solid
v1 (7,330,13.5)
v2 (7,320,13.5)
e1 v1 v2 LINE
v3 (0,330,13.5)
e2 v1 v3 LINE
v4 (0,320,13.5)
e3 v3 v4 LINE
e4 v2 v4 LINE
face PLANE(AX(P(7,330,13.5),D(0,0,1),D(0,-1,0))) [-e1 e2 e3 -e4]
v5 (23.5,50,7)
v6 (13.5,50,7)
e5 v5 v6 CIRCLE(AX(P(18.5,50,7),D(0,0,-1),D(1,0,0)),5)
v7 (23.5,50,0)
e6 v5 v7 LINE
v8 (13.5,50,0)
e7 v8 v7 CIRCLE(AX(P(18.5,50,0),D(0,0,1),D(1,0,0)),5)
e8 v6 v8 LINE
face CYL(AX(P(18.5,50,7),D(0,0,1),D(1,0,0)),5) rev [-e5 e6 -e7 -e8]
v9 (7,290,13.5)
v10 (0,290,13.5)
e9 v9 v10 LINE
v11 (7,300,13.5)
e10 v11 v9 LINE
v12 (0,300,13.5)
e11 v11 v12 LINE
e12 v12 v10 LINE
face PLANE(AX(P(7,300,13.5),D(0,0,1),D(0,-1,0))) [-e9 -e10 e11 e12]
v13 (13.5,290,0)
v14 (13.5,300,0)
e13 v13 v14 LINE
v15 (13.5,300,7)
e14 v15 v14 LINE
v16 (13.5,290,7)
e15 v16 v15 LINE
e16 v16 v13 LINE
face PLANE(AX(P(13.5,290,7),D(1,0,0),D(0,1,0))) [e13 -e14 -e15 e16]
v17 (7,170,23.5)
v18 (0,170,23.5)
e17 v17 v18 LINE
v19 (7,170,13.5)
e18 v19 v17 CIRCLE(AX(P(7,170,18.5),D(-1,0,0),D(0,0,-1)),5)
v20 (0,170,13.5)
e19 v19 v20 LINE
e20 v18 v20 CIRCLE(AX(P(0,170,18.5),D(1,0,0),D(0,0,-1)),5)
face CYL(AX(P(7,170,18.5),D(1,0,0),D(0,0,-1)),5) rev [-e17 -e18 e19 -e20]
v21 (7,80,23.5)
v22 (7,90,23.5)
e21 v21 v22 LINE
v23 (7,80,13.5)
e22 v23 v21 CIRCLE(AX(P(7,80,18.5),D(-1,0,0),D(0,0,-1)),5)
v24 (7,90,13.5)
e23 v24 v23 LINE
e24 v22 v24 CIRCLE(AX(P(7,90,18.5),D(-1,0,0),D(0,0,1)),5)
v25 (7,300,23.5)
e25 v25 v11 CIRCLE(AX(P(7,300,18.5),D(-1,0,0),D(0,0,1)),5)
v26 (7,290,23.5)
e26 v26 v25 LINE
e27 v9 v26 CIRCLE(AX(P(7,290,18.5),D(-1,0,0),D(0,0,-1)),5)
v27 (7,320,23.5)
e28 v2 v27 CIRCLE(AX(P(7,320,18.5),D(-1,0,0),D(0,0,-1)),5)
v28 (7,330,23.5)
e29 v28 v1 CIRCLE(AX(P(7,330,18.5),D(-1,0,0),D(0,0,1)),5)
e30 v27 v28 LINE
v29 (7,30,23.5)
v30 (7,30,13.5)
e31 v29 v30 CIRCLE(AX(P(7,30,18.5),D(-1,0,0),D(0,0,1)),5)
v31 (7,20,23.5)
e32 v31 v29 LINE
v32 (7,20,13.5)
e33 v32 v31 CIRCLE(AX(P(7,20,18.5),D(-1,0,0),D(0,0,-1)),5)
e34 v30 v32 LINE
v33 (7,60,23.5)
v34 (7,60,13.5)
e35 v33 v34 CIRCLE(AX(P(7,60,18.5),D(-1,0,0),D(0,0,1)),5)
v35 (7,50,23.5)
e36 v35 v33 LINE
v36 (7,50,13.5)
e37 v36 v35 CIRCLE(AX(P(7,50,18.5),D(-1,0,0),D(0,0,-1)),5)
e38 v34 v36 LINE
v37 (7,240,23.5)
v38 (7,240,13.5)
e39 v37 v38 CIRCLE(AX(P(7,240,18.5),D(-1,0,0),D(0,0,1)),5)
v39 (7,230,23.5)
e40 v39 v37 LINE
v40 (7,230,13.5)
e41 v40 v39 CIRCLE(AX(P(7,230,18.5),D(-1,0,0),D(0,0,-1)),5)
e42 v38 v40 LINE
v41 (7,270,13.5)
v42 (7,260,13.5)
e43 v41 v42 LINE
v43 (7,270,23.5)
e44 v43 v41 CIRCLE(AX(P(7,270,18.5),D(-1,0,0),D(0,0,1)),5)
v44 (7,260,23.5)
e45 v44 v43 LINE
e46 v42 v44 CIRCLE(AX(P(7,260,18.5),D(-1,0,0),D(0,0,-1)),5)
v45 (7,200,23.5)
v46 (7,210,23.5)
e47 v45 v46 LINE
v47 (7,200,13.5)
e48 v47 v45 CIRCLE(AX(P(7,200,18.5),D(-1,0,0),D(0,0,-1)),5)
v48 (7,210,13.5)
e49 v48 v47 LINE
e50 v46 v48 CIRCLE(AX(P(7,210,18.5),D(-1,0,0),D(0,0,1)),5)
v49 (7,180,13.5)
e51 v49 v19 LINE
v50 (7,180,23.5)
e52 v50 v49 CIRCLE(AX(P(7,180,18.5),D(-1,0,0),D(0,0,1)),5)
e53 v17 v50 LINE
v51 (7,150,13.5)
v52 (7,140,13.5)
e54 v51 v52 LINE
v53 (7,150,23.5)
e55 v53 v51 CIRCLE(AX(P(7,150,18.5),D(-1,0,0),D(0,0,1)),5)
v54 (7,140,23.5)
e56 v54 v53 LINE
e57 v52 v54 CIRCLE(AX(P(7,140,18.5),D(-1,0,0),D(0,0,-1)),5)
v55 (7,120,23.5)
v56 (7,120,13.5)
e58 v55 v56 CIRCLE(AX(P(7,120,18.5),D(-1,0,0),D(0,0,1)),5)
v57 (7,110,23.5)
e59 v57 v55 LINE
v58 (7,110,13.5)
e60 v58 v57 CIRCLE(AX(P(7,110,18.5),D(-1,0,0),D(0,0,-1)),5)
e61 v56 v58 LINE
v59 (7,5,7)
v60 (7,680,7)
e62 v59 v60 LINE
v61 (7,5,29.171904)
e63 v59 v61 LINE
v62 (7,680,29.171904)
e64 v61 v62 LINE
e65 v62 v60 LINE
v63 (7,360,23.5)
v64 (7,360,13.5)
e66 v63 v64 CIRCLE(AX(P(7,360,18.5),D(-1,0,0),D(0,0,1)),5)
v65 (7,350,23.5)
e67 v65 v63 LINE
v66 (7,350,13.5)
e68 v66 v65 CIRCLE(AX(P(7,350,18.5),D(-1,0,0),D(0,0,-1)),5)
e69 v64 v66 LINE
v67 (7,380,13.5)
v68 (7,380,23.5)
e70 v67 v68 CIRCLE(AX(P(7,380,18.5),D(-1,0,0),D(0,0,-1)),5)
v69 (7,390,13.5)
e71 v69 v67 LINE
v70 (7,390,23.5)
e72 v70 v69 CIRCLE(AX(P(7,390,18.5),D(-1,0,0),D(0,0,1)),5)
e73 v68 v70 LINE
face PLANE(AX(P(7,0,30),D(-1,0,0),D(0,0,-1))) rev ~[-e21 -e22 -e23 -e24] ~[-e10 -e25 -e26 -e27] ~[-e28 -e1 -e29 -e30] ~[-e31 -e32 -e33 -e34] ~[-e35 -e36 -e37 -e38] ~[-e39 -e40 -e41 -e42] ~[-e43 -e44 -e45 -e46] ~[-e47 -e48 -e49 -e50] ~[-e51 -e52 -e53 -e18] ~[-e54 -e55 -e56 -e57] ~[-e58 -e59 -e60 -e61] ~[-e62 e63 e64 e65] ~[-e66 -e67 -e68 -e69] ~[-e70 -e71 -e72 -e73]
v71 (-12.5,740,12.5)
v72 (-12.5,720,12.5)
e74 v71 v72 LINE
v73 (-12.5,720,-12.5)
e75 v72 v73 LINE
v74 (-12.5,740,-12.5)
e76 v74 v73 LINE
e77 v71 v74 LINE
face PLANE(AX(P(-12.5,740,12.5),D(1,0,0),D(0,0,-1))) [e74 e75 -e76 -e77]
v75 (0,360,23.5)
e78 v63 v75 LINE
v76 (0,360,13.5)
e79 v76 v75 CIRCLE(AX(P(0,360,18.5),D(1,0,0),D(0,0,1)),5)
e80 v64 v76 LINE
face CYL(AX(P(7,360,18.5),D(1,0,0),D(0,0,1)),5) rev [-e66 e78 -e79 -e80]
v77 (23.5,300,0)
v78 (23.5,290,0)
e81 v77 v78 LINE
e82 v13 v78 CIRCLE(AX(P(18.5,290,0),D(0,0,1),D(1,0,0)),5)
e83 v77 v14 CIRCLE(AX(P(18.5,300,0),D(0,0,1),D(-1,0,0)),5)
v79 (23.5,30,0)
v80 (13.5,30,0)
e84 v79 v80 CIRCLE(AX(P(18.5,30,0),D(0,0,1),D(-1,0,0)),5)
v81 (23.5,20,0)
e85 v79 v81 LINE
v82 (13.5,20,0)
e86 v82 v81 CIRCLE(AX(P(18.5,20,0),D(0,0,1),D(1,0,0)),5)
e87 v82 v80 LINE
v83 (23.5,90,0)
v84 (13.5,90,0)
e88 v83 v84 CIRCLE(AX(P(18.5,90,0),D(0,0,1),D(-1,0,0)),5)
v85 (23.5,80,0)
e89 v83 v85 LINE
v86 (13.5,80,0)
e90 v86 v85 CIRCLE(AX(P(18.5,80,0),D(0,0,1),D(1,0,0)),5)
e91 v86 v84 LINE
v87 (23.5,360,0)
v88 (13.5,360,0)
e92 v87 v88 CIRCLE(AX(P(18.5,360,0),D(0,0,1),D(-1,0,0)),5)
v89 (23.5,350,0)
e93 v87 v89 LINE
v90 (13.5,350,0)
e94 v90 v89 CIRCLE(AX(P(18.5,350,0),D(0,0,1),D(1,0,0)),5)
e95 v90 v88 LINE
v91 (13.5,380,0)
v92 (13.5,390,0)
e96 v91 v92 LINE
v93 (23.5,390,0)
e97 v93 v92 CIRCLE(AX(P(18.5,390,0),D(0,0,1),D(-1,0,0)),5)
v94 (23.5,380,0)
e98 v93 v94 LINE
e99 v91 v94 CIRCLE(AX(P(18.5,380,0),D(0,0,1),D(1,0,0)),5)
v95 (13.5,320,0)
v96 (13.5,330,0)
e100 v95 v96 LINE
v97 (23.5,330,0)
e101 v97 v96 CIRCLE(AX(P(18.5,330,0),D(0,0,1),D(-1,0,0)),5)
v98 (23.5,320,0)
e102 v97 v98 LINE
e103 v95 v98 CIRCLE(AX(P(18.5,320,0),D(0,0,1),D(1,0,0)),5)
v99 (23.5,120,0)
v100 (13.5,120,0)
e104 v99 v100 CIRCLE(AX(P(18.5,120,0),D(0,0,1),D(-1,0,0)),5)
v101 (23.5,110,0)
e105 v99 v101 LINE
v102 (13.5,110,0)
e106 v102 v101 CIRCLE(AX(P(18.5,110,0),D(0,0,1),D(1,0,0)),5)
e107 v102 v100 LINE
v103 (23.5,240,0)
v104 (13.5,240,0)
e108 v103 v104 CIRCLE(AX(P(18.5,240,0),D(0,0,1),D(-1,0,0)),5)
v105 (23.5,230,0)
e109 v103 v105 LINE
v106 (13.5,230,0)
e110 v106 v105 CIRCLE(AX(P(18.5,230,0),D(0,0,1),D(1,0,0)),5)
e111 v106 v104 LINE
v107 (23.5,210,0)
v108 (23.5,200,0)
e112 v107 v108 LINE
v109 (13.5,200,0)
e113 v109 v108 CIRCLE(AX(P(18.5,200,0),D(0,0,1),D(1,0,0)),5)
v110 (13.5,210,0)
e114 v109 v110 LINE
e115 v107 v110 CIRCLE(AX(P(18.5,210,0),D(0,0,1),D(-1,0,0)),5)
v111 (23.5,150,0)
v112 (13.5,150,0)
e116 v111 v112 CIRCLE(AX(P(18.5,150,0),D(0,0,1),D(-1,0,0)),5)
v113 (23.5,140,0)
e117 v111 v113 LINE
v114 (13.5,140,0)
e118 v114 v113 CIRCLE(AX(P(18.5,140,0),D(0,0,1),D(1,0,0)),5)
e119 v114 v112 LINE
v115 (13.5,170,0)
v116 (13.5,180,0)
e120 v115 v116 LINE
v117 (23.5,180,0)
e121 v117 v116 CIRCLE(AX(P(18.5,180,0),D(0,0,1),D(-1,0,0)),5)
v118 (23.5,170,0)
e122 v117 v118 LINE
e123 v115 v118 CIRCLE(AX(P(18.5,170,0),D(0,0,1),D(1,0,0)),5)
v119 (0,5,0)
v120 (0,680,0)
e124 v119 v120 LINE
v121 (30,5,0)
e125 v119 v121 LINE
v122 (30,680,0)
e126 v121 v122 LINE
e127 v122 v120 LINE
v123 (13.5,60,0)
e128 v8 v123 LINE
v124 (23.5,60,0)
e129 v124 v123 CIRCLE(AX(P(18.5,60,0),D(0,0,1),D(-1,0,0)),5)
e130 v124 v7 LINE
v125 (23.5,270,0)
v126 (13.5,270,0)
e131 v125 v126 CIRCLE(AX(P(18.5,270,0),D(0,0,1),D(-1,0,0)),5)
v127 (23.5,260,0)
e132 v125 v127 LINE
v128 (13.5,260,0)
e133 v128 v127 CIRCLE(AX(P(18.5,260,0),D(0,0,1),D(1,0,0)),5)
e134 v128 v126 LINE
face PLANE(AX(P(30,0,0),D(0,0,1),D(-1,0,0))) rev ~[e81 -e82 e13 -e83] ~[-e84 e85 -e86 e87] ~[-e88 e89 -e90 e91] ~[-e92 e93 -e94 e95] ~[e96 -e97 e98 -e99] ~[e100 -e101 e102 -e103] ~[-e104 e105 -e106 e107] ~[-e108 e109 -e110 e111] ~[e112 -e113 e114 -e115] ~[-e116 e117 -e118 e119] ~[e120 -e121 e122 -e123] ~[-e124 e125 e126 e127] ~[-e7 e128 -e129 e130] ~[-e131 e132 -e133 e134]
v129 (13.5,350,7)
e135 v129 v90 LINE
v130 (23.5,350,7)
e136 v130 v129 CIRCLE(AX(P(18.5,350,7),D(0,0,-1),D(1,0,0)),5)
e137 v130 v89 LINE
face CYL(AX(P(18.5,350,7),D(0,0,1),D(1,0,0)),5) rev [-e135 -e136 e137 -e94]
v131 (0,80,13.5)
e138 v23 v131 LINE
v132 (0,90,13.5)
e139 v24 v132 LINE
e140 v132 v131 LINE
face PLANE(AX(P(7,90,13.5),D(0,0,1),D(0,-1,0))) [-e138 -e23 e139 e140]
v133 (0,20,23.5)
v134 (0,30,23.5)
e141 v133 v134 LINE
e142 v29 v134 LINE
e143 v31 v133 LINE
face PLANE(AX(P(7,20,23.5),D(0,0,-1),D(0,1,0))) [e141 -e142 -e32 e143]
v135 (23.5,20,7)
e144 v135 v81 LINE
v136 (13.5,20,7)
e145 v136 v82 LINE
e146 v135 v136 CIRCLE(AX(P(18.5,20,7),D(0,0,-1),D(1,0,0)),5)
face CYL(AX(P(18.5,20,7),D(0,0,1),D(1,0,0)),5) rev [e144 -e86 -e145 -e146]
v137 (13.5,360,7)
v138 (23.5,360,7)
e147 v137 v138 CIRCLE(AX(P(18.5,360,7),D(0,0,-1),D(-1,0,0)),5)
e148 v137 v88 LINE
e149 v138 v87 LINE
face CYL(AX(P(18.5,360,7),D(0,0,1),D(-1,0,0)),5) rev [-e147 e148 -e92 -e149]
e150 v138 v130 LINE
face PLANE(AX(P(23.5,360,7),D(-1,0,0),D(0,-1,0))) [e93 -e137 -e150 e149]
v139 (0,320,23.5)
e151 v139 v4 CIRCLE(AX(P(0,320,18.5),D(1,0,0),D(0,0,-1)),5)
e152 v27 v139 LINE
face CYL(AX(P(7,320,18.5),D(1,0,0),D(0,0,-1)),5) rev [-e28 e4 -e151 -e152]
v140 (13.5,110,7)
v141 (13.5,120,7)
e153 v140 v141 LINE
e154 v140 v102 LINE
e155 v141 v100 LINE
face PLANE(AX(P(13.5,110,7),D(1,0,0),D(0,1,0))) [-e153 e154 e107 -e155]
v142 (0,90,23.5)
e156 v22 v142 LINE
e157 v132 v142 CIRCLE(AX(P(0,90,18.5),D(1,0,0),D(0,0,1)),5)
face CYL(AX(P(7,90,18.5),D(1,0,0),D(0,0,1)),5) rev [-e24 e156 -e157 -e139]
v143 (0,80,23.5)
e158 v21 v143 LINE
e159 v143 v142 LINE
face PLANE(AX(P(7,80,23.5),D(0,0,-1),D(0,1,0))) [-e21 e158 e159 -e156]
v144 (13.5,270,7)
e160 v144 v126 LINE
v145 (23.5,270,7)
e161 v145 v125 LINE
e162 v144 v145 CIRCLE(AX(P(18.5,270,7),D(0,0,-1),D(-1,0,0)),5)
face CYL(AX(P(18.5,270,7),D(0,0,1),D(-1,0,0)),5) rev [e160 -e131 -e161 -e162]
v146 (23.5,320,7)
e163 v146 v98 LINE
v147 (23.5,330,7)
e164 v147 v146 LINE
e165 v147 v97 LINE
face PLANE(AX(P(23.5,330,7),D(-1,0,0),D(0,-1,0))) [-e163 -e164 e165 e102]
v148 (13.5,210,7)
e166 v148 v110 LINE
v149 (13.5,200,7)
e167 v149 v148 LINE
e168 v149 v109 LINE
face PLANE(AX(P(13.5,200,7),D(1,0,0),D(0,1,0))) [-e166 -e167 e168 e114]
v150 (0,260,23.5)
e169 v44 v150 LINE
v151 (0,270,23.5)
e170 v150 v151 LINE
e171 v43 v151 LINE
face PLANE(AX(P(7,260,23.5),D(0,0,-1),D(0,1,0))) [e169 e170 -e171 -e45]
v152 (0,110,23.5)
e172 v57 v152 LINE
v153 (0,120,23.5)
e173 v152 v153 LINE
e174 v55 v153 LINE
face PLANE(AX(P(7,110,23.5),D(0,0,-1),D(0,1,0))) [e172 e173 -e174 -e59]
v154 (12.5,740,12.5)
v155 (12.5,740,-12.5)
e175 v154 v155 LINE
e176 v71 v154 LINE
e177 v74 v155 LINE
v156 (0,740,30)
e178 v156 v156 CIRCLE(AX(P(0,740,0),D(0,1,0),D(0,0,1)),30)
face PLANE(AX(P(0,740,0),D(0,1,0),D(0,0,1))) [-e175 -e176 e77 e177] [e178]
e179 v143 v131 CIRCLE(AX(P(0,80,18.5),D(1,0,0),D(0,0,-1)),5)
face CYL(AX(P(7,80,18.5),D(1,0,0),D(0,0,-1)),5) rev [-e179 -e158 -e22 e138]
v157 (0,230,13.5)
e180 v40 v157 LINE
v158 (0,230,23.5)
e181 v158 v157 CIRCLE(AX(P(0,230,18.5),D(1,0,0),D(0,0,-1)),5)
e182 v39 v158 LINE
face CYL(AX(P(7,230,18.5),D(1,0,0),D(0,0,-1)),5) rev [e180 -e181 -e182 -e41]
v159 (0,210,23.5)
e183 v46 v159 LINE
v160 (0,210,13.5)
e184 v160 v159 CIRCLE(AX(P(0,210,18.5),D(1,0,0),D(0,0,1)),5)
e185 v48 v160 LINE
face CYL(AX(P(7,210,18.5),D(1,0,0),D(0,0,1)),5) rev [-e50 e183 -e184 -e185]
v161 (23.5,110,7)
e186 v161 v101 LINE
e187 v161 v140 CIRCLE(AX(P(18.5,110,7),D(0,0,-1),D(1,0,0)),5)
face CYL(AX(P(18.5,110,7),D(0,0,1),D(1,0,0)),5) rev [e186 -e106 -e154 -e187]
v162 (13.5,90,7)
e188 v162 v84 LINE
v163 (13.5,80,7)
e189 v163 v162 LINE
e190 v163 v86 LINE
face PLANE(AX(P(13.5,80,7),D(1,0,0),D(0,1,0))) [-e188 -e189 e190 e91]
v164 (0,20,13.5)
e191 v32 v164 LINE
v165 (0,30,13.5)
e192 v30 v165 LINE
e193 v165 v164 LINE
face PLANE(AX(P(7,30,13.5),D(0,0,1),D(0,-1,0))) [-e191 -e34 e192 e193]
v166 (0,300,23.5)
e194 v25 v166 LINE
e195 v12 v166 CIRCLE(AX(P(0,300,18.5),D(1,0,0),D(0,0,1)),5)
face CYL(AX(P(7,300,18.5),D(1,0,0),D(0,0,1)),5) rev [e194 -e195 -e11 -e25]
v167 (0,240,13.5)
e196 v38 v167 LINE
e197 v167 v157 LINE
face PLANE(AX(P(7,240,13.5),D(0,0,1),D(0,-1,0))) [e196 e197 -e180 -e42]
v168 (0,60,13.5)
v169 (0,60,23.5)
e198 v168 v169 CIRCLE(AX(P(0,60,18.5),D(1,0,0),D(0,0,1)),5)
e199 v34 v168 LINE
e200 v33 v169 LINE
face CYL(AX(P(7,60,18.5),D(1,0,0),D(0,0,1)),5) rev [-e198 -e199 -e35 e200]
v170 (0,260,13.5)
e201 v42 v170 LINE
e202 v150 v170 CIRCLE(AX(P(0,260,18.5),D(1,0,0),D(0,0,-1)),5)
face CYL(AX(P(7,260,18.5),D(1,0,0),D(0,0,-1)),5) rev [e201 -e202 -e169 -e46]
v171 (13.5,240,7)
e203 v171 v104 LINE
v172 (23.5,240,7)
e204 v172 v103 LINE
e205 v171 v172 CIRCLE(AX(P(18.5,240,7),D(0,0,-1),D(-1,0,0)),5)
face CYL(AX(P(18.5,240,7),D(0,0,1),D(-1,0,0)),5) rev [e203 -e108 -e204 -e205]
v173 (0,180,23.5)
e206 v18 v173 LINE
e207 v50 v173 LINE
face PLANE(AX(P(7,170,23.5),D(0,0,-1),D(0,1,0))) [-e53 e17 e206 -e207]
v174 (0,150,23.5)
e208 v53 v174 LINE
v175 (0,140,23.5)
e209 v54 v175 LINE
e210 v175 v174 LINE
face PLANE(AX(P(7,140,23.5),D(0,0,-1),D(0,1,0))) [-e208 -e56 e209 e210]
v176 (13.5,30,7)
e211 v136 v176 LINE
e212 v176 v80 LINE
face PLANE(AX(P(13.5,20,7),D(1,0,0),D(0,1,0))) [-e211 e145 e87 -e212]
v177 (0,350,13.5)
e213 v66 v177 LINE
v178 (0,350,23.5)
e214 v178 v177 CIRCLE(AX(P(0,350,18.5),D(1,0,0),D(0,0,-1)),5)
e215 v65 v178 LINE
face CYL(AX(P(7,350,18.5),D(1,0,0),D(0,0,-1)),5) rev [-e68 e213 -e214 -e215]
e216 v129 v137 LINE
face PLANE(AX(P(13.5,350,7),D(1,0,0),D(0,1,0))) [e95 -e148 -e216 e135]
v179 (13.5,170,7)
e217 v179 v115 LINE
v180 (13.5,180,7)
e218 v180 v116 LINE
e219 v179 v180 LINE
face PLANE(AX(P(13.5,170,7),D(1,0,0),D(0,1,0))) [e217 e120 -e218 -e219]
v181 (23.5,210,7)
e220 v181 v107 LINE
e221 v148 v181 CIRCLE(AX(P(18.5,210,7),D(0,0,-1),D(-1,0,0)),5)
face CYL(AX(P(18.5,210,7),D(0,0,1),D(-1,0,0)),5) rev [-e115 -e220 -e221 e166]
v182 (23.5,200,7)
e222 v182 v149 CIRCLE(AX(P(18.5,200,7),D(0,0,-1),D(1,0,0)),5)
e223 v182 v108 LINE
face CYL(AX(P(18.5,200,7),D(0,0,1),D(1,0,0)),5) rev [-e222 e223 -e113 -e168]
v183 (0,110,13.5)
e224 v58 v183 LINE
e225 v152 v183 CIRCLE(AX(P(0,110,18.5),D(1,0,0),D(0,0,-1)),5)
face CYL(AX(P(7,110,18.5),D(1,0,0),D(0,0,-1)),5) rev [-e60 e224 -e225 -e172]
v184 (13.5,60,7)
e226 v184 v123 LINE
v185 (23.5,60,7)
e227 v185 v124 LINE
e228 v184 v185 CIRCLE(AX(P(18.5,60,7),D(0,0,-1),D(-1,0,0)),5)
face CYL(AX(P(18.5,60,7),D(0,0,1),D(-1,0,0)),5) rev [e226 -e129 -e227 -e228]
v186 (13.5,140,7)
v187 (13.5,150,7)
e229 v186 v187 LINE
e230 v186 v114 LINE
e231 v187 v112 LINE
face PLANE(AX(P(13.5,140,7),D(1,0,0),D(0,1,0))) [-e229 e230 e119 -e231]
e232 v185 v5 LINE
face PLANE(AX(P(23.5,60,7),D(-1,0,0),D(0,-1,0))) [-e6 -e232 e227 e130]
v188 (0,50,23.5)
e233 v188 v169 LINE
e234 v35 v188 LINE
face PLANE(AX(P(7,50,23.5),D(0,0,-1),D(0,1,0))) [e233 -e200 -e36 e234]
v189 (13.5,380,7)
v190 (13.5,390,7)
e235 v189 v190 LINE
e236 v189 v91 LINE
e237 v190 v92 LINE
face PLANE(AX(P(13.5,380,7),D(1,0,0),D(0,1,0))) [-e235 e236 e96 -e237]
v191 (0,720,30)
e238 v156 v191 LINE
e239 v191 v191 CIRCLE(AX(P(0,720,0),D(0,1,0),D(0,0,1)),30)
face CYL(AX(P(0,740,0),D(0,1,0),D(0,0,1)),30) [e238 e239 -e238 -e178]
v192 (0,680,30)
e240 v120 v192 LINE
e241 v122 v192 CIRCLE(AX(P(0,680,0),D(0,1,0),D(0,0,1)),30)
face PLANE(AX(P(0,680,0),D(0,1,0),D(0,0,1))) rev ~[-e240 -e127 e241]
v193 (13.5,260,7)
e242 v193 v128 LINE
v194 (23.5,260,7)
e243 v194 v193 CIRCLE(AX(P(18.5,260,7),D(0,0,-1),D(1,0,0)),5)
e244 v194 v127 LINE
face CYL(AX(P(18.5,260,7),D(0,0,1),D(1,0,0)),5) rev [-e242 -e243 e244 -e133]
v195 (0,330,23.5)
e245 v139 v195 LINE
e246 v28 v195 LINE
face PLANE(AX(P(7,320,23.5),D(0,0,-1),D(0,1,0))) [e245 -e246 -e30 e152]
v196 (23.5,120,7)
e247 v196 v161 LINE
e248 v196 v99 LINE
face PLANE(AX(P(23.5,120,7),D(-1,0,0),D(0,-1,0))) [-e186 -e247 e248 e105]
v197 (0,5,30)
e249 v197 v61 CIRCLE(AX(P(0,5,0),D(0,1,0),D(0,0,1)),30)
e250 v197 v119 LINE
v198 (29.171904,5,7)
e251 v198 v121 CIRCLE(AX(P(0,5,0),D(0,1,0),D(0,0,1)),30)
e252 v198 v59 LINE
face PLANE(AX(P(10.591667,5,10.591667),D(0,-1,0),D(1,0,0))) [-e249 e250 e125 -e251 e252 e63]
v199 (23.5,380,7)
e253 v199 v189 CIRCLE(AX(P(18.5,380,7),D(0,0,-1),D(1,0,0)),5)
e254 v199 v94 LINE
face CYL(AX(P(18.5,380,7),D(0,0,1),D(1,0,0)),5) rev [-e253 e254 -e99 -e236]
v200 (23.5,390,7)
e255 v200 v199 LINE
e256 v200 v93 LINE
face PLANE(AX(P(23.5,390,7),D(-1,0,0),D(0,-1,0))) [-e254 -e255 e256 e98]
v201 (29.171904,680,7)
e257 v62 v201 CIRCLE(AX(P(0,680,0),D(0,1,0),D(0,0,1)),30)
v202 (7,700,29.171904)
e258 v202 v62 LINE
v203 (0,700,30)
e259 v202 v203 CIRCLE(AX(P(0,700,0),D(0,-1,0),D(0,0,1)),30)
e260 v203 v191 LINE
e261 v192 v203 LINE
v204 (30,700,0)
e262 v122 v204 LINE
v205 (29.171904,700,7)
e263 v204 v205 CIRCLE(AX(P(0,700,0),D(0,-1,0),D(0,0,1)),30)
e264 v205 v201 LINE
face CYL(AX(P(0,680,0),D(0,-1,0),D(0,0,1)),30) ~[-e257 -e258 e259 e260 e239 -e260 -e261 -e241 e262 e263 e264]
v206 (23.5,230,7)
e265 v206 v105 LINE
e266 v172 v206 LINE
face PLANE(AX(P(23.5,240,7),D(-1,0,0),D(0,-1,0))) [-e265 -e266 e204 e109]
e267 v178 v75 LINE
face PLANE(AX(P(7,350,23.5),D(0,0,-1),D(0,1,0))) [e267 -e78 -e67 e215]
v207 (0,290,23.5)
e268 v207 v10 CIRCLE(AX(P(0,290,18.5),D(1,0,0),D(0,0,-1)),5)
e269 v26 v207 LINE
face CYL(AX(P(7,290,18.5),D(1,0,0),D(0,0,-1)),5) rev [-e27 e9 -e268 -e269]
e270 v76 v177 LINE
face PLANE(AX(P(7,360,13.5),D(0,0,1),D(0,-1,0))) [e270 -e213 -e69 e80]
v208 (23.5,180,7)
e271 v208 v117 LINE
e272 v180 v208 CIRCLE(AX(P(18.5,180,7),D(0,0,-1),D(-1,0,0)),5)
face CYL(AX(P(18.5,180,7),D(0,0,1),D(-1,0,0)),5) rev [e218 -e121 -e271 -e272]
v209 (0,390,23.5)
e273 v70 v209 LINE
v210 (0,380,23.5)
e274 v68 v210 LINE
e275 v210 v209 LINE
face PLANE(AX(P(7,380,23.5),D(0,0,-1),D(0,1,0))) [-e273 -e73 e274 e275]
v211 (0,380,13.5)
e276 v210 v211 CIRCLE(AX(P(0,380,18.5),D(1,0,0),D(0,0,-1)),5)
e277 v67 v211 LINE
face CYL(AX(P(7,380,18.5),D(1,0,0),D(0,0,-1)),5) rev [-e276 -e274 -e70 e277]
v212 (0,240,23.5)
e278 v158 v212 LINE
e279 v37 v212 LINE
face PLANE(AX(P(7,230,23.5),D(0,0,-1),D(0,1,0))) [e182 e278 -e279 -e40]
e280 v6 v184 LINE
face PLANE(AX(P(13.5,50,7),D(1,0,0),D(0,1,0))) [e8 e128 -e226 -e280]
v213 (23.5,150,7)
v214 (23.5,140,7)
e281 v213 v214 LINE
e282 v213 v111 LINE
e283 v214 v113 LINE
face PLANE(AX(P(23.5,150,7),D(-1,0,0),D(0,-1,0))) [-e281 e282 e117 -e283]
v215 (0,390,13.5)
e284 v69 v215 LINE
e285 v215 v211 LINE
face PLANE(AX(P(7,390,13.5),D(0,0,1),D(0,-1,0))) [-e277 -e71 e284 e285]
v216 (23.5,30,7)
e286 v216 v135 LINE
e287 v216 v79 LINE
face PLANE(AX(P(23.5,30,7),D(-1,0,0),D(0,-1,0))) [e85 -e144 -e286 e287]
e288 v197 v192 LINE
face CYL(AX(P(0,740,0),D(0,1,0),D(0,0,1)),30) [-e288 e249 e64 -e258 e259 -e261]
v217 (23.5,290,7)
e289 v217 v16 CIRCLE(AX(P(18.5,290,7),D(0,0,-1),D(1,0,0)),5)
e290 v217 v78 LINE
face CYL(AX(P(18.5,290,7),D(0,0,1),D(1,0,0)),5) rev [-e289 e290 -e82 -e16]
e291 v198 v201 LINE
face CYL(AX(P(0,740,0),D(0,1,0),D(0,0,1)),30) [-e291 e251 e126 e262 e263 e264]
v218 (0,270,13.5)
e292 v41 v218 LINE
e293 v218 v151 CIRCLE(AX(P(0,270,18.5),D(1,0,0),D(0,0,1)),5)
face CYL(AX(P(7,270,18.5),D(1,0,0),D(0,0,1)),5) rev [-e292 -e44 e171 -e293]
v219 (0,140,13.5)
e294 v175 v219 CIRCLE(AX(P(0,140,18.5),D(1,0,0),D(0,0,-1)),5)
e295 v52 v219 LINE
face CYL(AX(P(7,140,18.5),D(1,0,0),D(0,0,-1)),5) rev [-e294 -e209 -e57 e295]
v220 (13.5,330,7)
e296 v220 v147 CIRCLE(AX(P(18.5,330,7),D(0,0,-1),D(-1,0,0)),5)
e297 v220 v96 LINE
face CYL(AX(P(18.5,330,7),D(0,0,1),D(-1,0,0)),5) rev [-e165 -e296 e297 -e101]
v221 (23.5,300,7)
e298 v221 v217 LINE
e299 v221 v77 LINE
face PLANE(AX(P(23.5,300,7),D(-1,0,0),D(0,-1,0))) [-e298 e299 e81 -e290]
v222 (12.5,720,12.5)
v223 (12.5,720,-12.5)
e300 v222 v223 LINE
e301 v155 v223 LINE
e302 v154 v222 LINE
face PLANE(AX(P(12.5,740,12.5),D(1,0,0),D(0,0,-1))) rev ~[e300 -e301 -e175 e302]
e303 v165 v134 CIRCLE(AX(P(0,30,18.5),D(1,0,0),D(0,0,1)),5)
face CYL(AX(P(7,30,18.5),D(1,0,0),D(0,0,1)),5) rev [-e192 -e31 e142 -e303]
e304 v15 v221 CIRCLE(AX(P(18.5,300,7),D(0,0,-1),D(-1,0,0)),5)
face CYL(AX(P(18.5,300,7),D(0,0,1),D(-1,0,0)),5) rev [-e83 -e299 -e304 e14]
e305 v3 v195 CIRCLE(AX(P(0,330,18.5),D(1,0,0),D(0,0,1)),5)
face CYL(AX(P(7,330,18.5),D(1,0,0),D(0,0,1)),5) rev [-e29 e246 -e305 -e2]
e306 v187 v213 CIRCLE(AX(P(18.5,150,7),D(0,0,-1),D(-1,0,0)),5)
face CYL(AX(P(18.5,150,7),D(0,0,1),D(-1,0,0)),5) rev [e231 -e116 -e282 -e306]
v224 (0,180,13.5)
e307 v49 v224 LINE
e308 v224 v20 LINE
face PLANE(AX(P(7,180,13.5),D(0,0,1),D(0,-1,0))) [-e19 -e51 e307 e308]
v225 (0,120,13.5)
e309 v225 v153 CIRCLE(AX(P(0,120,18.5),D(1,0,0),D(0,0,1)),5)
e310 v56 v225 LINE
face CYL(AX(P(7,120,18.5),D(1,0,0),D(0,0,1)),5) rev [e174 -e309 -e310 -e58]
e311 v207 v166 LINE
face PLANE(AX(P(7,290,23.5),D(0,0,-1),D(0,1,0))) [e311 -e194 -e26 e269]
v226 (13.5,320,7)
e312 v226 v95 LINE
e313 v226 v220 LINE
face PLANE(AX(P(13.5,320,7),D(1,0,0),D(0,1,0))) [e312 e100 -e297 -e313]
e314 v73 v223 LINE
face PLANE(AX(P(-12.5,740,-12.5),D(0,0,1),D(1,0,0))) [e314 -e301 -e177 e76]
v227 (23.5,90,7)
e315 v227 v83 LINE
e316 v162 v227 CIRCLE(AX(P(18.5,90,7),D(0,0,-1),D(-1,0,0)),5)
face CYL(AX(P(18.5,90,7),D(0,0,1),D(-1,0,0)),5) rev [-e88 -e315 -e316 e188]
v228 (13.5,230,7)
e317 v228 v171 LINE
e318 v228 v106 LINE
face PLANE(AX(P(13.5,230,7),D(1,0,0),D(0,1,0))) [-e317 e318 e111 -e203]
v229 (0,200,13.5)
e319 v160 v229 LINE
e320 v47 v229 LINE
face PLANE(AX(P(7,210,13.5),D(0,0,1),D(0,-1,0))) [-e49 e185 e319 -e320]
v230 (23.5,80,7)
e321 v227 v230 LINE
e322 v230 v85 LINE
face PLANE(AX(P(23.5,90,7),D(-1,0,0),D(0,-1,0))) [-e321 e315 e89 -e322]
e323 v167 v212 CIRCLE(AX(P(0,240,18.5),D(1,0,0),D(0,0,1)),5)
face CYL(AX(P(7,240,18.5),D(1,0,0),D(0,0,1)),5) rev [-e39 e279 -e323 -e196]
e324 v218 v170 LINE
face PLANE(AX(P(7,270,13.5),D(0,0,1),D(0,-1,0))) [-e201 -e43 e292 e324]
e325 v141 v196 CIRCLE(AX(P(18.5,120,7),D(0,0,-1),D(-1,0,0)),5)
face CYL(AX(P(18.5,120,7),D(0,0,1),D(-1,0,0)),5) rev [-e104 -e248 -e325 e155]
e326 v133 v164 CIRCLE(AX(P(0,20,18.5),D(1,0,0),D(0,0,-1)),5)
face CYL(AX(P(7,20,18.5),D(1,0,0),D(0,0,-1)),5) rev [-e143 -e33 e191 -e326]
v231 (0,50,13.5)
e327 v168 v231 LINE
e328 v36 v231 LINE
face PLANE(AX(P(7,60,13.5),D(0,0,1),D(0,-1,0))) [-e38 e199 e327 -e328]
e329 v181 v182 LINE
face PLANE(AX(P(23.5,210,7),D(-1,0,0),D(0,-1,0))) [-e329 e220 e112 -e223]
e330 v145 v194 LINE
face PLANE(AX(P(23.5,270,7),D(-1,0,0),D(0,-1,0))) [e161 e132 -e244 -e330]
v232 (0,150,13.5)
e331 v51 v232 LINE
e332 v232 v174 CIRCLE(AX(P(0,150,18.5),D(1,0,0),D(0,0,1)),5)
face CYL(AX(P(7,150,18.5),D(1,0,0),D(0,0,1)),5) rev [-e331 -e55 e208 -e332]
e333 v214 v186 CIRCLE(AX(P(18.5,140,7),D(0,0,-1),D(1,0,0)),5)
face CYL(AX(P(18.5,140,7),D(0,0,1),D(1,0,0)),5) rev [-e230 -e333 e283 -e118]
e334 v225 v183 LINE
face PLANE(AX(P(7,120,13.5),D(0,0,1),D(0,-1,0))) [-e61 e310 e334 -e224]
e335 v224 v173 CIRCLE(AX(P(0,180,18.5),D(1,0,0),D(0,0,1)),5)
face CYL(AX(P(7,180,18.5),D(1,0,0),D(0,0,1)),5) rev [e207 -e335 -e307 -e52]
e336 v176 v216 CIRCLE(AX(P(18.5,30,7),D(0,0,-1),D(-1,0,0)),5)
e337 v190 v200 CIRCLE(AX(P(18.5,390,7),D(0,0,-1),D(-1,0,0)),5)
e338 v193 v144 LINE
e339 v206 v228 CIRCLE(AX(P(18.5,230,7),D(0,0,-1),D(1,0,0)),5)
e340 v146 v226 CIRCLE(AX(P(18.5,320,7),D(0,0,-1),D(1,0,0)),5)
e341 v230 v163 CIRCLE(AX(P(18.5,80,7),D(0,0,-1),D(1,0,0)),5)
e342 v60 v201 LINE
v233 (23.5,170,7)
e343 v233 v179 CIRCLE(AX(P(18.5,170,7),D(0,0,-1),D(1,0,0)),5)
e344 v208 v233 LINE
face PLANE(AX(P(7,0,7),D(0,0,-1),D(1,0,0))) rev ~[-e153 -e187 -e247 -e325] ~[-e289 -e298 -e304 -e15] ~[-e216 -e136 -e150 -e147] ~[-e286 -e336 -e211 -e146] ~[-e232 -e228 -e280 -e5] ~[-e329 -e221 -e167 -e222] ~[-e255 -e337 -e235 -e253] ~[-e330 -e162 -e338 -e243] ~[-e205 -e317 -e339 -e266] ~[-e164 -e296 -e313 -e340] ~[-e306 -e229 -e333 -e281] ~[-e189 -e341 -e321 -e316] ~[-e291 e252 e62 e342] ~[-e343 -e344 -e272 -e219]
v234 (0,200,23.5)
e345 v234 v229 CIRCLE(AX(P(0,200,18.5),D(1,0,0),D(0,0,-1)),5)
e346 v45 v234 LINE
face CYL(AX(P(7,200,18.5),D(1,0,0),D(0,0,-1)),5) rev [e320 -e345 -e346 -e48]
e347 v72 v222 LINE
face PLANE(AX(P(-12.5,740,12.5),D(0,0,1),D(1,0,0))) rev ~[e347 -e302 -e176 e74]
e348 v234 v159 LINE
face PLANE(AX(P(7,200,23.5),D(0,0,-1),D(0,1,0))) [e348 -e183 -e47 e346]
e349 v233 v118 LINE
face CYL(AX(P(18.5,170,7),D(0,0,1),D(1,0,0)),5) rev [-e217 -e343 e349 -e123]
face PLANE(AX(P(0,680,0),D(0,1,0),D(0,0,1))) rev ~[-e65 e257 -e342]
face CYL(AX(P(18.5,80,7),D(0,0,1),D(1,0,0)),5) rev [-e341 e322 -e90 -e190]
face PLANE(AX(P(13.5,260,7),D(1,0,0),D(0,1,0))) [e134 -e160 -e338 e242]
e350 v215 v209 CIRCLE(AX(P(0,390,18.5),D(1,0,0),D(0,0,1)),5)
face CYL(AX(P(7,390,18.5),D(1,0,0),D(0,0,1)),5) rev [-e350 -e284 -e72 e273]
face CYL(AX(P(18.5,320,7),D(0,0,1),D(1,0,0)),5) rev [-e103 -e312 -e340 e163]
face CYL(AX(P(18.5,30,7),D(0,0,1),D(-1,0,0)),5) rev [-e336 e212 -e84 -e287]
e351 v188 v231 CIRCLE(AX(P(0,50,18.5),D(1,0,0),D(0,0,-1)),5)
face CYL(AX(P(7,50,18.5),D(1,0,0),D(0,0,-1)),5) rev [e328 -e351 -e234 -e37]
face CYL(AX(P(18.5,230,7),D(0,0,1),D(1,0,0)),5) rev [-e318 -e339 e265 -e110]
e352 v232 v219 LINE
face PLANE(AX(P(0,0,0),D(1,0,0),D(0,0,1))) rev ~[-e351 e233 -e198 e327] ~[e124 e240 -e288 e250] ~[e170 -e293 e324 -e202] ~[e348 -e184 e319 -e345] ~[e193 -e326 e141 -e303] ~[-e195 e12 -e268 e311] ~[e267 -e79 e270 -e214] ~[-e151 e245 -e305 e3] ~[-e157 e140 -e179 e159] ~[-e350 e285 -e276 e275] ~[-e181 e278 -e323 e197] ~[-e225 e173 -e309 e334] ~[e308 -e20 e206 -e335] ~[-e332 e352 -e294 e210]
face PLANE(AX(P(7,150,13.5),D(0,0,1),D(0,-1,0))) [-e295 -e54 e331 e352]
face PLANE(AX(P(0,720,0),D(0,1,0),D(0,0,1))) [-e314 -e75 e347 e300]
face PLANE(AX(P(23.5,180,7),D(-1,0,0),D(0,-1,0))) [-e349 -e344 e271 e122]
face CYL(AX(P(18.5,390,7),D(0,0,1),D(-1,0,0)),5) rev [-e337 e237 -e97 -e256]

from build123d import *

# Parameters (mm, degrees)
EXTRUDE_1_DEPTH        = 700
EXTRUDE_1_2_DEPTH      = 20
EXTRUDE_1_2_DEPTH_BACK = 20
SKETCH_2_R             = 30
EXTRUDE_START          = 20
SKETCH_3_R             = 30
SKETCH_3_W             = 25
SKETCH_3_H             = 25
EXTRUDE_2_DEPTH        = 20
CUT_EXTRUDE_1_DEPTH    = 742.531523268
PATTERN_LINEAR_1_COUNT = 13
PATTERN_LINEAR_1_PITCH = 30
CUT_EXTRUDE_2_DEPTH    = 742.531523268
PATTERN_LINEAR_2_COUNT = 13
PATTERN_LINEAR_2_PITCH = 30
CUT_EXTRUDE_3_DEPTH    = 5
SKETCH_11_OUTSIDE_W    = 209.976
SKETCH_11_OUTSIDE_H    = 209.976
SKETCH_11_OUTSIDE_R    = 30
CUT_EXTRUDE_4_DEPTH    = 735


with BuildPart() as part:
    # 草图1 → Extrude 1 (new body)
    with BuildSketch(Plane(origin=(0, 0, 0), x_dir=(1, 0, 0), z_dir=(0, 1, 0))):
        Polygon((30, 0), (0, 0), (0, -30), (7, -30), (7, -7), (30, -7), align=None)
    extrude(amount=EXTRUDE_1_DEPTH)

    # 草图2 → Extrude 1 2 (add, two sides: drawn at the far end of the back side and taken through both)
    with BuildSketch(Plane(origin=(0, 700, 0), x_dir=(1, 0, 0), z_dir=(0, 1, 0)).offset(-EXTRUDE_1_2_DEPTH_BACK)):
        with Locations(Location((0, 0, 0), (0, 0, 270))):
            Circle(SKETCH_2_R)
    extrude(amount=EXTRUDE_1_2_DEPTH + EXTRUDE_1_2_DEPTH_BACK)

    # 草图3 → 凸台-拉伸2 (add)
    with BuildSketch(Plane(origin=(0, 720, 0), x_dir=(1, 0, 0), z_dir=(0, 1, 0)).offset(EXTRUDE_START)):
        with Locations(Location((0, 0, 0), (0, 0, 270))):
            Circle(SKETCH_3_R)
        Rectangle(SKETCH_3_W, SKETCH_3_H, mode=Mode.SUBTRACT)
    extrude(amount=-EXTRUDE_2_DEPTH)

    # 草图6 → 切除-拉伸1 (cut, through all)
    with BuildSketch(Plane.XY.offset(7)):
        with BuildLine():
            Line((23.5, 30), (23.5, 20))
            ThreePointArc((23.5, 20), (18.5, 15), (13.5, 20))
            Line((13.5, 20), (13.5, 30))
            ThreePointArc((13.5, 30), (18.5, 35), (23.5, 30))
        make_face()
    cut_extrude_1 = extrude(amount=-CUT_EXTRUDE_1_DEPTH, mode=Mode.SUBTRACT)

    # 阵列(线性)1: 切除-拉伸1 ×13
    with Locations(*[(0, i * PATTERN_LINEAR_1_PITCH, 0) for i in range(1, PATTERN_LINEAR_1_COUNT)]):
        add(cut_extrude_1, mode=Mode.SUBTRACT)

    # 草图7 → 切除-拉伸2 (cut, through all)
    with BuildSketch(Plane(origin=(7, 0, 0), x_dir=(0, 0, -1), z_dir=(1, 0, 0))):
        with BuildLine():
            Line((-23.5, 20), (-23.5, 30))
            ThreePointArc((-23.5, 30), (-18.5, 35), (-13.5, 30))
            Line((-13.5, 30), (-13.5, 20))
            ThreePointArc((-13.5, 20), (-18.5, 15), (-23.5, 20))
        make_face()
    cut_extrude_2 = extrude(amount=-CUT_EXTRUDE_2_DEPTH, mode=Mode.SUBTRACT)

    # 阵列(线性)2: 切除-拉伸2 ×13
    with Locations(*[(0, i * PATTERN_LINEAR_2_PITCH, 0) for i in range(1, PATTERN_LINEAR_2_COUNT)]):
        add(cut_extrude_2, mode=Mode.SUBTRACT)

    # 草图8 → 切除-拉伸3 (cut)
    with BuildSketch(Plane.XZ):
        Polygon((30, 7), (7, 7), (7, 30), (0, 30), (0, 0), (30, 0), align=None)
    extrude(amount=-CUT_EXTRUDE_3_DEPTH, mode=Mode.SUBTRACT)

    # 草图11 outside → 切除-拉伸4 (cut)
    with BuildSketch(Plane(origin=(0, 740, 0), x_dir=(1, 0, 0), z_dir=(0, 1, 0))):
        Rectangle(SKETCH_11_OUTSIDE_W, SKETCH_11_OUTSIDE_H)
        with Locations(Location((0, 0, 0), (0, 0, 270))):
            Circle(SKETCH_11_OUTSIDE_R, mode=Mode.SUBTRACT)
    extrude(amount=-CUT_EXTRUDE_4_DEPTH, mode=Mode.SUBTRACT)


solid = part.part
